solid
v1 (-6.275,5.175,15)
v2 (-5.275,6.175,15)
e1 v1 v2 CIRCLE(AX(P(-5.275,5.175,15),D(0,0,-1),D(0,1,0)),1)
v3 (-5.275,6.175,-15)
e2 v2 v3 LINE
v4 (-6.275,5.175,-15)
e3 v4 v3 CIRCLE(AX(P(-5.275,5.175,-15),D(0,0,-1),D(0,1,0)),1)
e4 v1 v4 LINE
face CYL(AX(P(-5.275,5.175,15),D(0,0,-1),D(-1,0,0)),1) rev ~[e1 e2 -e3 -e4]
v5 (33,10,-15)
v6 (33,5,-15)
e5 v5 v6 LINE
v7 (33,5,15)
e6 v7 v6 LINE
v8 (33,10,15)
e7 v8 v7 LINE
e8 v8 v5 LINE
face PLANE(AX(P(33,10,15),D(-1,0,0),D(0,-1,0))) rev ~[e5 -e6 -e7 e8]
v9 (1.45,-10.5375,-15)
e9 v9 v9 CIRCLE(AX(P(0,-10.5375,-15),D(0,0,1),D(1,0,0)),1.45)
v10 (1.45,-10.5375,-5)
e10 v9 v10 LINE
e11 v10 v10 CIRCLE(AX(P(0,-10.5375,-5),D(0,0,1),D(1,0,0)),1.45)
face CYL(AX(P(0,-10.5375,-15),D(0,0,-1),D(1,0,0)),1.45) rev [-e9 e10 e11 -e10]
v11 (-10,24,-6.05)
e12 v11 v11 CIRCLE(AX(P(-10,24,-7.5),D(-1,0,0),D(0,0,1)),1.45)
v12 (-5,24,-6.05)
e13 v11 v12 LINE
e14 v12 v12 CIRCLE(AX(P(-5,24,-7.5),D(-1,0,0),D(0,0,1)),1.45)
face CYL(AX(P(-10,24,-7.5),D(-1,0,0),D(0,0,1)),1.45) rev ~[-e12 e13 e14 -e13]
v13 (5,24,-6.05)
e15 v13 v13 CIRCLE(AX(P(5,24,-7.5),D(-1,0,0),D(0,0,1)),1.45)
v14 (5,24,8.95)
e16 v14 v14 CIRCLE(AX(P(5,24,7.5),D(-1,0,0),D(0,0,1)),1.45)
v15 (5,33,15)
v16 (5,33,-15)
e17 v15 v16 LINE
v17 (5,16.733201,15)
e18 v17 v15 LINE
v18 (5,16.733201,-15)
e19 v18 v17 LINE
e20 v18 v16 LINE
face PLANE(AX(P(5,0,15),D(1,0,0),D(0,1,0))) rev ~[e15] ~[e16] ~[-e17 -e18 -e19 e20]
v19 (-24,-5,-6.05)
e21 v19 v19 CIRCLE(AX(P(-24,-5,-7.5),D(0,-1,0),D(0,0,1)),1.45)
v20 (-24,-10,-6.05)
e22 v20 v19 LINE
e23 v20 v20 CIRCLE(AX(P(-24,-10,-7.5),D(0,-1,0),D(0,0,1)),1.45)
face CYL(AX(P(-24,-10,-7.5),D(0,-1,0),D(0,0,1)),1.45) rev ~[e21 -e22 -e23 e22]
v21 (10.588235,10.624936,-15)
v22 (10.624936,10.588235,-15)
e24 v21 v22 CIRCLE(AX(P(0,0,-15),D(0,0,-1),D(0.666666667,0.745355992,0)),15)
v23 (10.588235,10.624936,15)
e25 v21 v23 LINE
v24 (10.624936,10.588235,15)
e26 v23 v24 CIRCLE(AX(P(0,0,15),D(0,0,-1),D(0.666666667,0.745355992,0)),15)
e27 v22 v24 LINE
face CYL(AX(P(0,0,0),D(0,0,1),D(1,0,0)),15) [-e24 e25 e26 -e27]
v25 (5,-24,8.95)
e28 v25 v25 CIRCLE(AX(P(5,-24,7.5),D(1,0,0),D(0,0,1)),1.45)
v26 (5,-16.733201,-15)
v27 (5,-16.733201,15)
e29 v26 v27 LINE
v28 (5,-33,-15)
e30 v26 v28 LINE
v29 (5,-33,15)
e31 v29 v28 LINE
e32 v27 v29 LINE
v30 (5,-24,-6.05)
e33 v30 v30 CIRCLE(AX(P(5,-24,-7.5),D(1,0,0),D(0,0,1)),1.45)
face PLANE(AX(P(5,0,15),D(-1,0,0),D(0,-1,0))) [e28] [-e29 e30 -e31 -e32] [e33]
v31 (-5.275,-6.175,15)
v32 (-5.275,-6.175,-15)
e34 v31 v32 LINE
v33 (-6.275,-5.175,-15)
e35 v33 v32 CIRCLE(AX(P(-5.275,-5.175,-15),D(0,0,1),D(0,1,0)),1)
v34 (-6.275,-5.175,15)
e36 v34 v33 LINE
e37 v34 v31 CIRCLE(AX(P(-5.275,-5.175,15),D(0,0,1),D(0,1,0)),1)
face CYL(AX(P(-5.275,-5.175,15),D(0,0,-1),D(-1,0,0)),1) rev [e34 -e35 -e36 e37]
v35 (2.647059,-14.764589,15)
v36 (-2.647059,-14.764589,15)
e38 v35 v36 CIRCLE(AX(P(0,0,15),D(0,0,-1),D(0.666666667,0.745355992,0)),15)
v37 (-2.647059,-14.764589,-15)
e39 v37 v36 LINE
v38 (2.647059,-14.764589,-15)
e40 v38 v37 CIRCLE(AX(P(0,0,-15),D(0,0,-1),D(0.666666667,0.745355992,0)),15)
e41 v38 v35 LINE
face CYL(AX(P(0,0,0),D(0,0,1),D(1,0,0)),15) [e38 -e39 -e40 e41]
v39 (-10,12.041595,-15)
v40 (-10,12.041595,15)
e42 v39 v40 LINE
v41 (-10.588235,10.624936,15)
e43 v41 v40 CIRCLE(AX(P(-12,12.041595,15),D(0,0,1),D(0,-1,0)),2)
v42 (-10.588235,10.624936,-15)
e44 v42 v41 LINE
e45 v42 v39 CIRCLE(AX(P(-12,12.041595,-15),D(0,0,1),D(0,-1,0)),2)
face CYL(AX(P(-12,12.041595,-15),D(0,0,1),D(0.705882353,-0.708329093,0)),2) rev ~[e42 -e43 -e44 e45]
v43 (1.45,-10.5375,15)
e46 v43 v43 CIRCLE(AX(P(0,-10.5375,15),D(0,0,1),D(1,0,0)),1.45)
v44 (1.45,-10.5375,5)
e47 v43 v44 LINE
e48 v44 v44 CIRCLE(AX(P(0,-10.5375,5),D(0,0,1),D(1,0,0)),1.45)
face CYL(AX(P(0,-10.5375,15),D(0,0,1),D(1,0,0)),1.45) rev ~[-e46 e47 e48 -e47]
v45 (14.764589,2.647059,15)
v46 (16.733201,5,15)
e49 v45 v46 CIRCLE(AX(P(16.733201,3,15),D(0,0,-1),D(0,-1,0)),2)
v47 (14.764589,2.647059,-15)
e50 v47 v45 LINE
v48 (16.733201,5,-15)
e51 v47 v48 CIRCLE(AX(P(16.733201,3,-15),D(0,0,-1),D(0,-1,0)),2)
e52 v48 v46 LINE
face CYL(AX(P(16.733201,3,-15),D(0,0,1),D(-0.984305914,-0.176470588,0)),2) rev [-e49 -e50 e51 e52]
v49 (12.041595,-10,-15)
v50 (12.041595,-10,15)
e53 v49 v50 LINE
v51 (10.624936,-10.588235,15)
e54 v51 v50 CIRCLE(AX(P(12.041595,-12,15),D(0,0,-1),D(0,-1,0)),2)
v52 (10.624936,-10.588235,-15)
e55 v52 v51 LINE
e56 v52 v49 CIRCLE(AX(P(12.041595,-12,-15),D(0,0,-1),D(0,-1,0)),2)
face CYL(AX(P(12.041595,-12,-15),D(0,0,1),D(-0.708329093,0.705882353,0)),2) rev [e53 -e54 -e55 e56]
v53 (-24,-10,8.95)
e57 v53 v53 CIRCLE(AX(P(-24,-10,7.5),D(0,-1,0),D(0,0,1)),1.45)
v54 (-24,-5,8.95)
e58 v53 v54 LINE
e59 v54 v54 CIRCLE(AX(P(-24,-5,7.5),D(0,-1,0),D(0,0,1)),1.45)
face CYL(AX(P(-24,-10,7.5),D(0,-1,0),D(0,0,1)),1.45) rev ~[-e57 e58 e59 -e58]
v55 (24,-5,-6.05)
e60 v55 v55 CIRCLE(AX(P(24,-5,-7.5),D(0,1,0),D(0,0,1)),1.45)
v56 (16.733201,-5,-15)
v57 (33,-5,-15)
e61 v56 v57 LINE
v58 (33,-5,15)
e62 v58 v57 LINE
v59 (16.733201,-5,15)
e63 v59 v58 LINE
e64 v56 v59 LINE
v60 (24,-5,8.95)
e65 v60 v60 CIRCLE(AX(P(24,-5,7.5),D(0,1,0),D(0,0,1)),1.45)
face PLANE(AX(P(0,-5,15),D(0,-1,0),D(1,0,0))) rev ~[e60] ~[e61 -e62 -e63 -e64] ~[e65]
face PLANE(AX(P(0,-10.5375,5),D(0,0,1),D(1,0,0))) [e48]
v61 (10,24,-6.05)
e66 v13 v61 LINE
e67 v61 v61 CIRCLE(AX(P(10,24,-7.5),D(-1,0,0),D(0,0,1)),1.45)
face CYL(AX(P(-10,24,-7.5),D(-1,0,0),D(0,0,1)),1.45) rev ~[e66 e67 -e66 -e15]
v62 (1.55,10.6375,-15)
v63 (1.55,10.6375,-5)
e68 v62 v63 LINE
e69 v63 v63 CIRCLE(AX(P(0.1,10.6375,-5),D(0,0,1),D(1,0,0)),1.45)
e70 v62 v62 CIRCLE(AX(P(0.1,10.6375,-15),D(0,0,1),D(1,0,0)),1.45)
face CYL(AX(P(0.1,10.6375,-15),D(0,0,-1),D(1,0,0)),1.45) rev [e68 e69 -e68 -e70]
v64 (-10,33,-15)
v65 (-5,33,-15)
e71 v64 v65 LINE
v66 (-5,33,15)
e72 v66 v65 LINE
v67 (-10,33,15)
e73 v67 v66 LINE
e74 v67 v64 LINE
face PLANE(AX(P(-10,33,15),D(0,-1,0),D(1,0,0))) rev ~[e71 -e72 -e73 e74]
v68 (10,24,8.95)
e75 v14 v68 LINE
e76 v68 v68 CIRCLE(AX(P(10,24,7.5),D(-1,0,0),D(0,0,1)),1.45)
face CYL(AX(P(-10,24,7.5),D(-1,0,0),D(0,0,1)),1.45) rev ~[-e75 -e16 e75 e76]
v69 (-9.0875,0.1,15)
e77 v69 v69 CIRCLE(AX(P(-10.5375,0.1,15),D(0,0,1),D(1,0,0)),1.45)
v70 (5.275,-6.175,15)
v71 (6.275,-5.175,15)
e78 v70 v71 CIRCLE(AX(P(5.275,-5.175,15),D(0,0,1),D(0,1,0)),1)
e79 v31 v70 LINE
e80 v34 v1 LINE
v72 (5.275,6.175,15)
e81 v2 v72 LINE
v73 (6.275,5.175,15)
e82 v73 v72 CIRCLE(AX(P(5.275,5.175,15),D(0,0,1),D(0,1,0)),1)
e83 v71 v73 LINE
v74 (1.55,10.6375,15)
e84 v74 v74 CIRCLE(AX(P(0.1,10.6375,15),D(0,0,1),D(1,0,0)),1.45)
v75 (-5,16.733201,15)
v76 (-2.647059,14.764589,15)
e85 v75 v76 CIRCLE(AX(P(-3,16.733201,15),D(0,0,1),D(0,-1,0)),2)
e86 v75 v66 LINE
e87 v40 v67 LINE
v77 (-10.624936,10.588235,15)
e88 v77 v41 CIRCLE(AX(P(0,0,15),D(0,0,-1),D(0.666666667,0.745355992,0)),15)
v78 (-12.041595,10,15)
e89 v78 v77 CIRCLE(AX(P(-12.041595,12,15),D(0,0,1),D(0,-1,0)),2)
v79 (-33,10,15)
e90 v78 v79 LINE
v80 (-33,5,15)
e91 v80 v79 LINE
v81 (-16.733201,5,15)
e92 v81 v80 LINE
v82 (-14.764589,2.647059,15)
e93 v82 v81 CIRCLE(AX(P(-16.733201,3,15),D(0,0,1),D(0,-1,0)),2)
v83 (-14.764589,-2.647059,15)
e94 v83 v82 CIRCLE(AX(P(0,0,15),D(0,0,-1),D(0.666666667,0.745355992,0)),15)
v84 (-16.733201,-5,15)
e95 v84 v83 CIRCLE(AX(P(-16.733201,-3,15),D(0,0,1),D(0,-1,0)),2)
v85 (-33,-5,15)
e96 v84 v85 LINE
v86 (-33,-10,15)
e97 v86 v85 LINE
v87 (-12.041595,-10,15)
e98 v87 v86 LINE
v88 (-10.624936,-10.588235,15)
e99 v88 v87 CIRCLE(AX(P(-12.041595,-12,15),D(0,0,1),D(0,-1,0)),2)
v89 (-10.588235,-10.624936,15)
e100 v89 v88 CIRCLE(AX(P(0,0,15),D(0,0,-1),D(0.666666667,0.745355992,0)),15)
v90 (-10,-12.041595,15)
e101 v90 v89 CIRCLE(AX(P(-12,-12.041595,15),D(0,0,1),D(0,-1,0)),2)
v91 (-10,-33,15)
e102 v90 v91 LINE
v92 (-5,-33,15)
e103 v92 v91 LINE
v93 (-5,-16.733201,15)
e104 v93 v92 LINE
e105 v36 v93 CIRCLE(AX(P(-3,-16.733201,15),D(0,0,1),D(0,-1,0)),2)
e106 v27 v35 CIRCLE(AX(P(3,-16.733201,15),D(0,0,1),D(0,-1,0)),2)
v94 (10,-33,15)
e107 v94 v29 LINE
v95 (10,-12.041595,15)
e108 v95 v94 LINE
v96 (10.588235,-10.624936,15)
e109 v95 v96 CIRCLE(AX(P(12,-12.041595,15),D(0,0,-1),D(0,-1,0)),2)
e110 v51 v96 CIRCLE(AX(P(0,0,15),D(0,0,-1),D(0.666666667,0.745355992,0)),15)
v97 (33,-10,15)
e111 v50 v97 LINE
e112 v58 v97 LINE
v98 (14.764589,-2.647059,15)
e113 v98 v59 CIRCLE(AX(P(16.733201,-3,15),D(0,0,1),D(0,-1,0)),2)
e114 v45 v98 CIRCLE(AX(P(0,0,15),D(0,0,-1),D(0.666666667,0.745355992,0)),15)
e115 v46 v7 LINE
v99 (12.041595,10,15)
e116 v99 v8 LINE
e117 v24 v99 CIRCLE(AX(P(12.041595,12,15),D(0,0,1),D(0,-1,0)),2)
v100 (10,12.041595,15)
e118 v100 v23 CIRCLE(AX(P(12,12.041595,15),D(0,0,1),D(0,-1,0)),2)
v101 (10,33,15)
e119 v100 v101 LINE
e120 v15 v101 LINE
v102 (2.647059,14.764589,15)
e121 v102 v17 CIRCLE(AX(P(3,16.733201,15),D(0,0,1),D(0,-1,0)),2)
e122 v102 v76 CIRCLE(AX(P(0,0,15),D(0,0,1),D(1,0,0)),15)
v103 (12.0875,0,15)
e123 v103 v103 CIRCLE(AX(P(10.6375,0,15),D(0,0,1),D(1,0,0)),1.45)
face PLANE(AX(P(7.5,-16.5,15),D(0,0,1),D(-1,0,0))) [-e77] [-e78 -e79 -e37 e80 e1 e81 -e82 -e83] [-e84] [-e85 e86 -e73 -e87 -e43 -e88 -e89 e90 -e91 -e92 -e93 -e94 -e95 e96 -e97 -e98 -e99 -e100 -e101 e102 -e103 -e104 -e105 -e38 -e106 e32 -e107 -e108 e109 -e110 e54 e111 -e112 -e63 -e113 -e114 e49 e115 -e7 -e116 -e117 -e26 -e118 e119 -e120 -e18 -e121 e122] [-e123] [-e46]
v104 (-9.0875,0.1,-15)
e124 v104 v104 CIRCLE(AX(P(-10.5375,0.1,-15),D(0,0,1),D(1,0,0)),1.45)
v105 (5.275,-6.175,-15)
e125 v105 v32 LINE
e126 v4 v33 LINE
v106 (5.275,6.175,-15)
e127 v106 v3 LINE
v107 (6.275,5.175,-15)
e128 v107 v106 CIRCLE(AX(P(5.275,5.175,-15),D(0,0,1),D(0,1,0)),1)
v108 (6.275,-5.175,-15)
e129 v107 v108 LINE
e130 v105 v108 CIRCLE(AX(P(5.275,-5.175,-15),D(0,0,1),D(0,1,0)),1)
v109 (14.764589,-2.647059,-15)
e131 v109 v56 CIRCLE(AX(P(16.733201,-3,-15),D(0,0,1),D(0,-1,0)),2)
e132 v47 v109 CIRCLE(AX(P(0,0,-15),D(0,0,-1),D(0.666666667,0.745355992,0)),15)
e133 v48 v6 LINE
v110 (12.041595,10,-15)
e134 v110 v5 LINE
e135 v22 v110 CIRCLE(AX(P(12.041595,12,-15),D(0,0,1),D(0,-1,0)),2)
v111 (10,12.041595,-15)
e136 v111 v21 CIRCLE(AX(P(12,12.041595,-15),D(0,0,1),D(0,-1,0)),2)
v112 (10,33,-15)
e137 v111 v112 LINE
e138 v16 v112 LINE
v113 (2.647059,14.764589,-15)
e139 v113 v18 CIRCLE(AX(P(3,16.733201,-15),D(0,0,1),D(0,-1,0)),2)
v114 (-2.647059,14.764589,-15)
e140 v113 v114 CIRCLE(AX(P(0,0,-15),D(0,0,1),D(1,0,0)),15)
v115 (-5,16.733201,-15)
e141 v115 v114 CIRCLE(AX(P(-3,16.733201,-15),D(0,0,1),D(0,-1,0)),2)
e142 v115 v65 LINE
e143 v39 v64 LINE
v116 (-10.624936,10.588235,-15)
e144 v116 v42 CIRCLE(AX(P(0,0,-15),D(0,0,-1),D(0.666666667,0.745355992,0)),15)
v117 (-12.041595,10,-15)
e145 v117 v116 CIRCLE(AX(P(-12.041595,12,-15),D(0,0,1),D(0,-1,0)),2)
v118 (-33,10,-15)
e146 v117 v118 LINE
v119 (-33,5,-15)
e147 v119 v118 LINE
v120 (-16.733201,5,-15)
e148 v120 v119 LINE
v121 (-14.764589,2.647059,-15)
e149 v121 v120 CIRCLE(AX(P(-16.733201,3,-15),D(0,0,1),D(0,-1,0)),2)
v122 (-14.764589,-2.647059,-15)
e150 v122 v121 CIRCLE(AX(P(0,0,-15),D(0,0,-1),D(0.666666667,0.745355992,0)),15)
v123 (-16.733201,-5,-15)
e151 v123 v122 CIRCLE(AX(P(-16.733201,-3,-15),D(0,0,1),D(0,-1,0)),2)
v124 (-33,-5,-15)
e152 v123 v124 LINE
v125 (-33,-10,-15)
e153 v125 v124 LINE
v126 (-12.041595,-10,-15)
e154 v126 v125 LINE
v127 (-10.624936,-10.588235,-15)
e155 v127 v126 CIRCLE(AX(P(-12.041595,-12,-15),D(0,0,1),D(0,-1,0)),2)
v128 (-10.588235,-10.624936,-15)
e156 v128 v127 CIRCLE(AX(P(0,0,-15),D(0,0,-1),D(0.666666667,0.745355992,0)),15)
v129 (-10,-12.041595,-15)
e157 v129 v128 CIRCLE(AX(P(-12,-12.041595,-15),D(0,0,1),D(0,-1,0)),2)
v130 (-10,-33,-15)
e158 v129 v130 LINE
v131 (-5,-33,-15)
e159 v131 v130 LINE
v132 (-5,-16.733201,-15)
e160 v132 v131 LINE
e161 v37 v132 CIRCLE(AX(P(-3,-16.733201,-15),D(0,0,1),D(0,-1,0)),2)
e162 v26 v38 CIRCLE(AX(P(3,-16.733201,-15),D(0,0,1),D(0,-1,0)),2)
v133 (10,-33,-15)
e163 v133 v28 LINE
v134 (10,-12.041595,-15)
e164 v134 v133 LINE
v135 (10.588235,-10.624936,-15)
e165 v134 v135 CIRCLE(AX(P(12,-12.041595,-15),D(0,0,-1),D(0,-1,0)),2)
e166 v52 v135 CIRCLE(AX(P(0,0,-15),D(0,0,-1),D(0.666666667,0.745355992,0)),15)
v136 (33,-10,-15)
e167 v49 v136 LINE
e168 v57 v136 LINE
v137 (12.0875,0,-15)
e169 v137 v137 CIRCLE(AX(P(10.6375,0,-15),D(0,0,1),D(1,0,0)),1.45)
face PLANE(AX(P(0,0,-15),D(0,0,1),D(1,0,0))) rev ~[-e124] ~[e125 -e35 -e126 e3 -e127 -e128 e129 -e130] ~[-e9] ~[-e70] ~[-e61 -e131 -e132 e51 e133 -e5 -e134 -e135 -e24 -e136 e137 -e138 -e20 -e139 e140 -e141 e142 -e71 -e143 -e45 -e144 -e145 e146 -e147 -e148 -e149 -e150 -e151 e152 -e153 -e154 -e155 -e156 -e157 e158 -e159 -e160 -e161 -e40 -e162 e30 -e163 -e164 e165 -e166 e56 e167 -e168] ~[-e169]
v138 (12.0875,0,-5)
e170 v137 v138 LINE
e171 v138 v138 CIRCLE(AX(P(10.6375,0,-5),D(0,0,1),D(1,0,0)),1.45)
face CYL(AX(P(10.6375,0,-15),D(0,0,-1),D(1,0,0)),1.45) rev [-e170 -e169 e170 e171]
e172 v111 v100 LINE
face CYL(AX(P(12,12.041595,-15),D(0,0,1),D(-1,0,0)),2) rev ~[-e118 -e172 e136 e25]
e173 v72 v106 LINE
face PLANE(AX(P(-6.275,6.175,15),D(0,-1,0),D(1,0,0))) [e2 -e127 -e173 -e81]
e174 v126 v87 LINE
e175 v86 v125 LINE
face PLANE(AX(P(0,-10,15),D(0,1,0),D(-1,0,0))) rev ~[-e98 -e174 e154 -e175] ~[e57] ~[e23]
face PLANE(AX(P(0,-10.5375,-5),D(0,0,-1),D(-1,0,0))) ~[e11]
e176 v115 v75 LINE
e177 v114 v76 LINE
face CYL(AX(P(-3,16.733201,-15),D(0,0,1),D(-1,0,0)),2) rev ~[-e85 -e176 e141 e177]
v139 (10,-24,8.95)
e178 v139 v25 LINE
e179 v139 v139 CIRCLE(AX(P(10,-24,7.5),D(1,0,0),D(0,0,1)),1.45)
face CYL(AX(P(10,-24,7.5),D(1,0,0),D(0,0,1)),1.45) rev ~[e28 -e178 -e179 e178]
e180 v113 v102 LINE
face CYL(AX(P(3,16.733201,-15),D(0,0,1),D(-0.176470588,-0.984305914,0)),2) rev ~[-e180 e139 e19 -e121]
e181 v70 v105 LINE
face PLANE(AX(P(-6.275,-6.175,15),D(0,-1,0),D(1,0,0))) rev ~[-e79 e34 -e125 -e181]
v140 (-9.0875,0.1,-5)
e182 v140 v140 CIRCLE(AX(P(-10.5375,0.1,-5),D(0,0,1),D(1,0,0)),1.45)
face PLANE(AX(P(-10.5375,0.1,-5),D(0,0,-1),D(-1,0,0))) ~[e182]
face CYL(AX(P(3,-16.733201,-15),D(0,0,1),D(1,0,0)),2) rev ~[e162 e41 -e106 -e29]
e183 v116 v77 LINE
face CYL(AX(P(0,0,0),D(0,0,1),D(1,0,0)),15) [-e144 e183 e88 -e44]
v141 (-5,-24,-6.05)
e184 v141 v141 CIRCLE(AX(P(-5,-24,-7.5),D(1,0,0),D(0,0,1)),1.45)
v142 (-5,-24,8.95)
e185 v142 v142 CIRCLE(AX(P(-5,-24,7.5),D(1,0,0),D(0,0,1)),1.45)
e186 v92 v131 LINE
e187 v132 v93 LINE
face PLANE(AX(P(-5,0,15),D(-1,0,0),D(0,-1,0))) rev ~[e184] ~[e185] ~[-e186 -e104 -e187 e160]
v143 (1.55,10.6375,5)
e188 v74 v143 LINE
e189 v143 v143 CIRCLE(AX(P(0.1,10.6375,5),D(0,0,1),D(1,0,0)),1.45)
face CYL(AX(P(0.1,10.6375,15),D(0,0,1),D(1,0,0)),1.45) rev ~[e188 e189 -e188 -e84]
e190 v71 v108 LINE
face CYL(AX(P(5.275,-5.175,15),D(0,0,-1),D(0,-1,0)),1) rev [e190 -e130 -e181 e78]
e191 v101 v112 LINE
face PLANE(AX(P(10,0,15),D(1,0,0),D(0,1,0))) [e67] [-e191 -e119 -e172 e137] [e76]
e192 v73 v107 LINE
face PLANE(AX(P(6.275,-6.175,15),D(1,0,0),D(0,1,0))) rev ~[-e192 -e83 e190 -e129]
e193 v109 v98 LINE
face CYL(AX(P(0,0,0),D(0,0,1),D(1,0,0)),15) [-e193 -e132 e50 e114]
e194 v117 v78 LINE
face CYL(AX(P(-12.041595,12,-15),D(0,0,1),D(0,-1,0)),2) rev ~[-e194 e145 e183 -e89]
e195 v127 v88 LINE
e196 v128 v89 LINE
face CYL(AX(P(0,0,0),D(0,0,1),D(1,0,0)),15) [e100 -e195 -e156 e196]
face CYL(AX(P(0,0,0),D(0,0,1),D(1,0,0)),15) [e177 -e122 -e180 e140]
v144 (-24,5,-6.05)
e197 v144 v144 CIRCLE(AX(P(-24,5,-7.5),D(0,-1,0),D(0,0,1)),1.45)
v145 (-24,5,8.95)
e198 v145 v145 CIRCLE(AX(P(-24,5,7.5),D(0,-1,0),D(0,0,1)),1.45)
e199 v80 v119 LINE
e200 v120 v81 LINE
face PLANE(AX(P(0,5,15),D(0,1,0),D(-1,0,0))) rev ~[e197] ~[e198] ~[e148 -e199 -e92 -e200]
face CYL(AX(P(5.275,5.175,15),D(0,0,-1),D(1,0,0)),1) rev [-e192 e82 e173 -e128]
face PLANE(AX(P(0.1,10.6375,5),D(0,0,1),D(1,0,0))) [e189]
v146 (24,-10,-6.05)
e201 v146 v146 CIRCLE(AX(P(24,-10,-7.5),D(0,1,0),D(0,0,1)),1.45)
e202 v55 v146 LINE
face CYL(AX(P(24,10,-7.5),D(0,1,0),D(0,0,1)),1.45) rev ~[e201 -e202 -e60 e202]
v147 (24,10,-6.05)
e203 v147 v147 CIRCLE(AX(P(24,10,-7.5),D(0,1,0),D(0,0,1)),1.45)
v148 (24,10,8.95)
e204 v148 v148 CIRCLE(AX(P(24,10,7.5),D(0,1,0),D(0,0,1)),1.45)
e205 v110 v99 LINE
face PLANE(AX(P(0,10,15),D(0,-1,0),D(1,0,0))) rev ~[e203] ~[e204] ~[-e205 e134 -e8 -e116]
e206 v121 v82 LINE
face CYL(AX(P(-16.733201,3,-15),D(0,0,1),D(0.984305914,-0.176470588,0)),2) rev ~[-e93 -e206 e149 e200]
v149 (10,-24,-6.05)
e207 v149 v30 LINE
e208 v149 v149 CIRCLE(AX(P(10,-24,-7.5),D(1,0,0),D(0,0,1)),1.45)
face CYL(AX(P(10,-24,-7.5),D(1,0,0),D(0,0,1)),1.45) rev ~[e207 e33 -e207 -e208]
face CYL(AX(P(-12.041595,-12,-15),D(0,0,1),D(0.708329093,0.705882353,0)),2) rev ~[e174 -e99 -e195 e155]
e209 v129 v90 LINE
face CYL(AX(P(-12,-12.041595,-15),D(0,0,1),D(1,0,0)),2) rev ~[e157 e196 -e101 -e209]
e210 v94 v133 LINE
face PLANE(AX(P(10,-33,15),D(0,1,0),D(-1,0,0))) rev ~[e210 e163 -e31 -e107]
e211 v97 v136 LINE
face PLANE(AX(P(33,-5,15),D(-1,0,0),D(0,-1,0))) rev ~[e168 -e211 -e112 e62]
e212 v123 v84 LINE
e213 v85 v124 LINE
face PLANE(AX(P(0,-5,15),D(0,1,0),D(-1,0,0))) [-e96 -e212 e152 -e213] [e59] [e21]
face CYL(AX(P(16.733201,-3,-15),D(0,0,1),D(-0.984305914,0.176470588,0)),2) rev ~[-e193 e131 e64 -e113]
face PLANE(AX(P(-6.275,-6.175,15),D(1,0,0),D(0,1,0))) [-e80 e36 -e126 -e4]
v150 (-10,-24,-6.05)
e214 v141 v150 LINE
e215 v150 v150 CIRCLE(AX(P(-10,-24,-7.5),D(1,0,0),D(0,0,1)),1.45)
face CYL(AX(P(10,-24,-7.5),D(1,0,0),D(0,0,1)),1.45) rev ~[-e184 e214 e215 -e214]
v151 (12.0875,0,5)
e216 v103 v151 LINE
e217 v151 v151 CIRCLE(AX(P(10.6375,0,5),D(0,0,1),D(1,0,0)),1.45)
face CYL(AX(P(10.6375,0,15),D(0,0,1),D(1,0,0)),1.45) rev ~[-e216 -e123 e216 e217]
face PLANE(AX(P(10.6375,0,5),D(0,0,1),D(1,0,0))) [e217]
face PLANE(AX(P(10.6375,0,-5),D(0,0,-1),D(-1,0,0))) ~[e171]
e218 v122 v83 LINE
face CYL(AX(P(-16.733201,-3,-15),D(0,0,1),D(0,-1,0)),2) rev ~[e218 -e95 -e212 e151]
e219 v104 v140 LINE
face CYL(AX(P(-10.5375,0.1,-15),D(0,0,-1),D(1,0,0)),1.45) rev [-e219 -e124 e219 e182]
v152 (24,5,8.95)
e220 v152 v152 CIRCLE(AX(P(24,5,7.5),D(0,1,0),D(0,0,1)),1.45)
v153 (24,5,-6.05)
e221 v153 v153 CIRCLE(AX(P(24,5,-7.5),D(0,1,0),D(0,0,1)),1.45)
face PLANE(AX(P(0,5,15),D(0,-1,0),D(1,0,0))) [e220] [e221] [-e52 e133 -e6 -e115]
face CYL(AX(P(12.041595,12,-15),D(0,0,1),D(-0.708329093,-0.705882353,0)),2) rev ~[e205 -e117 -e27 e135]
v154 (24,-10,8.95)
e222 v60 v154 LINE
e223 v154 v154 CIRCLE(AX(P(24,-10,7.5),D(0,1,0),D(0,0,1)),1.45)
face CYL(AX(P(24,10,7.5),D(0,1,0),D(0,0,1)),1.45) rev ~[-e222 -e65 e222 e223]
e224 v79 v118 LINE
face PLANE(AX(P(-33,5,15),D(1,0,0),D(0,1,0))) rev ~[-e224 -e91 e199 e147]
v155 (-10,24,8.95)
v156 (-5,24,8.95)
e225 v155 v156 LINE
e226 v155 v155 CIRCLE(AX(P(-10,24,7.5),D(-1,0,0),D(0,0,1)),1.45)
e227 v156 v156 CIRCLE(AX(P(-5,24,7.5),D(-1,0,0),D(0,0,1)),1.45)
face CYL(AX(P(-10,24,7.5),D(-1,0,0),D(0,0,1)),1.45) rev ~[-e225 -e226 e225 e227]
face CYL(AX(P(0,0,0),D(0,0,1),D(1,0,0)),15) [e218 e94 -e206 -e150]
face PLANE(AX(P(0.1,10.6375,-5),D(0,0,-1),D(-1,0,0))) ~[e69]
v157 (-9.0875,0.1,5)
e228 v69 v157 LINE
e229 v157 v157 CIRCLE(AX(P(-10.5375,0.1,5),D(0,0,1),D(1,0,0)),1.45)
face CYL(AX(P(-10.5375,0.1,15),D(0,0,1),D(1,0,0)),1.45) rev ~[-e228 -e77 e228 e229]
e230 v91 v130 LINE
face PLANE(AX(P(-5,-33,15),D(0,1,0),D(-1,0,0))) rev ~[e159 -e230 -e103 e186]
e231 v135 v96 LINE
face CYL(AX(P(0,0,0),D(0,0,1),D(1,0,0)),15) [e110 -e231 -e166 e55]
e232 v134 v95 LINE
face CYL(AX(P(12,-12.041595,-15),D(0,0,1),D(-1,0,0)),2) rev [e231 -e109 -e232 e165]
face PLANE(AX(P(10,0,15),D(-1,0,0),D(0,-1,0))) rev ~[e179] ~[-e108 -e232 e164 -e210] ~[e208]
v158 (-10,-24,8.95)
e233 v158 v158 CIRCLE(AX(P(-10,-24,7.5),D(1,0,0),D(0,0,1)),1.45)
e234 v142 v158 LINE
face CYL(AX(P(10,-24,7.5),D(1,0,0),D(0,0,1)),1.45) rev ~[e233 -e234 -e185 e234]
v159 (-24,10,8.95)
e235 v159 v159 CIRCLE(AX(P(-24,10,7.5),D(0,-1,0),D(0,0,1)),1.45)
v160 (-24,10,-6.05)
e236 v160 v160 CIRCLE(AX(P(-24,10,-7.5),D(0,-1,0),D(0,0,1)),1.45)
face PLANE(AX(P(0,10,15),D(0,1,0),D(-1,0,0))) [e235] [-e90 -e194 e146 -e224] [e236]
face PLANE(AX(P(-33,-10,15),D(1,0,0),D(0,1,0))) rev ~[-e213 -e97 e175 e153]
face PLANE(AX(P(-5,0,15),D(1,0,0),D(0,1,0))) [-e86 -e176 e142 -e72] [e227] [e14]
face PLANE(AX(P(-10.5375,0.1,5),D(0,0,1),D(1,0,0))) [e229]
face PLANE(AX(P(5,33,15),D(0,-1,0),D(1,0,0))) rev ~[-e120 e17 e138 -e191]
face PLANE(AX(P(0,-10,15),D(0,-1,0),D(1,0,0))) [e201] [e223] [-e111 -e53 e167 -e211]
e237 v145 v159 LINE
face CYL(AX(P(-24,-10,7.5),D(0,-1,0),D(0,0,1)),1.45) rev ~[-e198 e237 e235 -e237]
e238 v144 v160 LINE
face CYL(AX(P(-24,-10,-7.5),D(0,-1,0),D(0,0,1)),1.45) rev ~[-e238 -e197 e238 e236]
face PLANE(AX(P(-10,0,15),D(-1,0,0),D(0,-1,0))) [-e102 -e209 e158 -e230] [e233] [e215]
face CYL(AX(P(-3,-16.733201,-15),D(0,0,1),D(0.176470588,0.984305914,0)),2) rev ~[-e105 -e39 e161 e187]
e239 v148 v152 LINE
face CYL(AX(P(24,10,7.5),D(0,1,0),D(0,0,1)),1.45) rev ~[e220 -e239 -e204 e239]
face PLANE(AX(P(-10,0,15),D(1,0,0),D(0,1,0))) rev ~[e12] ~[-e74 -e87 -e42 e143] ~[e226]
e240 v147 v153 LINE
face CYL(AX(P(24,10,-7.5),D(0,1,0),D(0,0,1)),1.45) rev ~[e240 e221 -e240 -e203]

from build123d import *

# Parameters (mm, degrees)
SKETCH1_R                = 15
BOSS_EXTRUDE1_DEPTH      = 15
SKETCH4_W                = 5
SKETCH4_H                = 33
BOSS_EXTRUDE3_DEPTH      = 30
FILLET2_R                = 2
CIRPATTERN7_COUNT        = 4
FILLET2_OF_CIRPATTERN7_R = 2
SKETCH7_R                = 1.45
CUT_EXTRUDE2_DEPTH       = 27
CIRPATTERN9_COUNT        = 4
CUT_EXTRUDE3_REACH       = 57.48
SKETCH8_W                = 12.55
SKETCH8_H                = 12.35
SKETCH9_R                = 1.45
CUT_EXTRUDE4_DEPTH       = 10
FILLET1_R                = 1


with BuildPart() as part:
    # Sketch1 → Boss-Extrude1 (new, symmetric)
    with BuildSketch(Plane.XY):
        Circle(SKETCH1_R)
    extrude(amount=BOSS_EXTRUDE1_DEPTH, both=True)

    # Sketch4 → Boss-Extrude3 (add)
    with BuildSketch(Plane.XY.offset(15)):
        with Locations((-7.5, 16.5)):
            Rectangle(SKETCH4_W, SKETCH4_H)
        with Locations((7.5, 16.5)):
            Rectangle(SKETCH4_W, SKETCH4_H)
    boss_extrude3 = extrude(amount=-BOSS_EXTRUDE3_DEPTH)

    # Fillet2
    fillet2_edges = [part.edges().sort_by_distance(p)[0] for p in [
        (-10, 11.180339887, 0),
        (-5, 14.142135624, 0),
        (10, 11.180339887, 0),
        (5, 14.142135624, 0),
    ]]
    fillet(fillet2_edges, radius=FILLET2_R)

    # CirPattern7: Boss-Extrude3 ×4 about axis
    cirpattern7_axis = Axis((0, 0, 0), (0, 0, 1))
    for i in range(1, CIRPATTERN7_COUNT):
        add(boss_extrude3.rotate(cirpattern7_axis, i * 360 / CIRPATTERN7_COUNT))

    # Fillet2 of CirPattern7
    fillet2_of_cirpattern7_edges = [part.edges().sort_by_distance(p)[0] for p in [
        (-11.180339887, -10, 0),
        (-14.142135624, -5, 0),
        (-11.180339887, 10, 0),
        (-14.142135624, 5, 0),
        (10, -11.180339887, 0),
        (5, -14.142135624, 0),
        (-10, -11.180339887, 0),
        (-5, -14.142135624, 0),
        (11.180339887, 10, 0),
        (14.142135624, 5, 0),
        (11.180339887, -10, 0),
        (14.142135624, -5, 0),
    ]]
    fillet(fillet2_of_cirpattern7_edges, radius=FILLET2_OF_CIRPATTERN7_R)

    # Sketch7 → Cut-Extrude2 (cut)
    with BuildSketch(Plane.ZY.offset(10)):
        with Locations((-7.5, 24)):
            Circle(SKETCH7_R)
        with Locations((7.5, 24)):
            Circle(SKETCH7_R)
        with Locations((22.5, 24)):
            Circle(SKETCH7_R)
        with Locations((37.5, 24)):
            Circle(SKETCH7_R)
        with Locations((52.5, 24)):
            Circle(SKETCH7_R)
    cut_extrude2 = extrude(amount=-CUT_EXTRUDE2_DEPTH, mode=Mode.SUBTRACT)

    # CirPattern9: Cut-Extrude2 ×4 about axis
    cirpattern9_axis = Axis((0, 0, 0), (0, 0, 1))
    for i in range(1, CIRPATTERN9_COUNT):
        add(cut_extrude2.rotate(cirpattern9_axis, i * 360 / CIRPATTERN9_COUNT), mode=Mode.SUBTRACT)

    # Sketch8 → Cut-Extrude3 (cut, up to next)
    with BuildSketch(Plane.XY.offset(15), mode=Mode.PRIVATE) as cut_extrude3_sk1:
        Rectangle(SKETCH8_W, SKETCH8_H)
    cut_extrude3_tool1 = extrude(cut_extrude3_sk1.sketch, amount=-CUT_EXTRUDE3_REACH, mode=Mode.PRIVATE) & part.part
    add(cut_extrude3_tool1.solids().sort_by_distance((0, 0, 15))[0], mode=Mode.SUBTRACT)

    # Sketch9 → Cut-Extrude4 (cut)
    with BuildSketch(Plane.XY.offset(15)):
        with Locations((10.6375, 0)):
            Circle(SKETCH9_R)
        with Locations((0, -10.5375)):
            Circle(SKETCH9_R)
        with Locations((-10.5375, 0.1)):
            Circle(SKETCH9_R)
        with Locations((0.1, 10.6375)):
            Circle(SKETCH9_R)
    cut_extrude4 = extrude(amount=-CUT_EXTRUDE4_DEPTH, mode=Mode.SUBTRACT)

    # Fillet1
    fillet1_edges = [part.edges().sort_by_distance(p)[0] for p in [
        (6.275, 6.175, 0),
        (6.275, -6.175, 0),
        (-6.275, -6.175, 0),
        (-6.275, 6.175, 0),
    ]]
    fillet(fillet1_edges, radius=FILLET1_R)

    # Mirror1: Cut-Extrude4 across plane
    add(cut_extrude4.mirror(Plane.XY), mode=Mode.SUBTRACT)


solid = part.part
